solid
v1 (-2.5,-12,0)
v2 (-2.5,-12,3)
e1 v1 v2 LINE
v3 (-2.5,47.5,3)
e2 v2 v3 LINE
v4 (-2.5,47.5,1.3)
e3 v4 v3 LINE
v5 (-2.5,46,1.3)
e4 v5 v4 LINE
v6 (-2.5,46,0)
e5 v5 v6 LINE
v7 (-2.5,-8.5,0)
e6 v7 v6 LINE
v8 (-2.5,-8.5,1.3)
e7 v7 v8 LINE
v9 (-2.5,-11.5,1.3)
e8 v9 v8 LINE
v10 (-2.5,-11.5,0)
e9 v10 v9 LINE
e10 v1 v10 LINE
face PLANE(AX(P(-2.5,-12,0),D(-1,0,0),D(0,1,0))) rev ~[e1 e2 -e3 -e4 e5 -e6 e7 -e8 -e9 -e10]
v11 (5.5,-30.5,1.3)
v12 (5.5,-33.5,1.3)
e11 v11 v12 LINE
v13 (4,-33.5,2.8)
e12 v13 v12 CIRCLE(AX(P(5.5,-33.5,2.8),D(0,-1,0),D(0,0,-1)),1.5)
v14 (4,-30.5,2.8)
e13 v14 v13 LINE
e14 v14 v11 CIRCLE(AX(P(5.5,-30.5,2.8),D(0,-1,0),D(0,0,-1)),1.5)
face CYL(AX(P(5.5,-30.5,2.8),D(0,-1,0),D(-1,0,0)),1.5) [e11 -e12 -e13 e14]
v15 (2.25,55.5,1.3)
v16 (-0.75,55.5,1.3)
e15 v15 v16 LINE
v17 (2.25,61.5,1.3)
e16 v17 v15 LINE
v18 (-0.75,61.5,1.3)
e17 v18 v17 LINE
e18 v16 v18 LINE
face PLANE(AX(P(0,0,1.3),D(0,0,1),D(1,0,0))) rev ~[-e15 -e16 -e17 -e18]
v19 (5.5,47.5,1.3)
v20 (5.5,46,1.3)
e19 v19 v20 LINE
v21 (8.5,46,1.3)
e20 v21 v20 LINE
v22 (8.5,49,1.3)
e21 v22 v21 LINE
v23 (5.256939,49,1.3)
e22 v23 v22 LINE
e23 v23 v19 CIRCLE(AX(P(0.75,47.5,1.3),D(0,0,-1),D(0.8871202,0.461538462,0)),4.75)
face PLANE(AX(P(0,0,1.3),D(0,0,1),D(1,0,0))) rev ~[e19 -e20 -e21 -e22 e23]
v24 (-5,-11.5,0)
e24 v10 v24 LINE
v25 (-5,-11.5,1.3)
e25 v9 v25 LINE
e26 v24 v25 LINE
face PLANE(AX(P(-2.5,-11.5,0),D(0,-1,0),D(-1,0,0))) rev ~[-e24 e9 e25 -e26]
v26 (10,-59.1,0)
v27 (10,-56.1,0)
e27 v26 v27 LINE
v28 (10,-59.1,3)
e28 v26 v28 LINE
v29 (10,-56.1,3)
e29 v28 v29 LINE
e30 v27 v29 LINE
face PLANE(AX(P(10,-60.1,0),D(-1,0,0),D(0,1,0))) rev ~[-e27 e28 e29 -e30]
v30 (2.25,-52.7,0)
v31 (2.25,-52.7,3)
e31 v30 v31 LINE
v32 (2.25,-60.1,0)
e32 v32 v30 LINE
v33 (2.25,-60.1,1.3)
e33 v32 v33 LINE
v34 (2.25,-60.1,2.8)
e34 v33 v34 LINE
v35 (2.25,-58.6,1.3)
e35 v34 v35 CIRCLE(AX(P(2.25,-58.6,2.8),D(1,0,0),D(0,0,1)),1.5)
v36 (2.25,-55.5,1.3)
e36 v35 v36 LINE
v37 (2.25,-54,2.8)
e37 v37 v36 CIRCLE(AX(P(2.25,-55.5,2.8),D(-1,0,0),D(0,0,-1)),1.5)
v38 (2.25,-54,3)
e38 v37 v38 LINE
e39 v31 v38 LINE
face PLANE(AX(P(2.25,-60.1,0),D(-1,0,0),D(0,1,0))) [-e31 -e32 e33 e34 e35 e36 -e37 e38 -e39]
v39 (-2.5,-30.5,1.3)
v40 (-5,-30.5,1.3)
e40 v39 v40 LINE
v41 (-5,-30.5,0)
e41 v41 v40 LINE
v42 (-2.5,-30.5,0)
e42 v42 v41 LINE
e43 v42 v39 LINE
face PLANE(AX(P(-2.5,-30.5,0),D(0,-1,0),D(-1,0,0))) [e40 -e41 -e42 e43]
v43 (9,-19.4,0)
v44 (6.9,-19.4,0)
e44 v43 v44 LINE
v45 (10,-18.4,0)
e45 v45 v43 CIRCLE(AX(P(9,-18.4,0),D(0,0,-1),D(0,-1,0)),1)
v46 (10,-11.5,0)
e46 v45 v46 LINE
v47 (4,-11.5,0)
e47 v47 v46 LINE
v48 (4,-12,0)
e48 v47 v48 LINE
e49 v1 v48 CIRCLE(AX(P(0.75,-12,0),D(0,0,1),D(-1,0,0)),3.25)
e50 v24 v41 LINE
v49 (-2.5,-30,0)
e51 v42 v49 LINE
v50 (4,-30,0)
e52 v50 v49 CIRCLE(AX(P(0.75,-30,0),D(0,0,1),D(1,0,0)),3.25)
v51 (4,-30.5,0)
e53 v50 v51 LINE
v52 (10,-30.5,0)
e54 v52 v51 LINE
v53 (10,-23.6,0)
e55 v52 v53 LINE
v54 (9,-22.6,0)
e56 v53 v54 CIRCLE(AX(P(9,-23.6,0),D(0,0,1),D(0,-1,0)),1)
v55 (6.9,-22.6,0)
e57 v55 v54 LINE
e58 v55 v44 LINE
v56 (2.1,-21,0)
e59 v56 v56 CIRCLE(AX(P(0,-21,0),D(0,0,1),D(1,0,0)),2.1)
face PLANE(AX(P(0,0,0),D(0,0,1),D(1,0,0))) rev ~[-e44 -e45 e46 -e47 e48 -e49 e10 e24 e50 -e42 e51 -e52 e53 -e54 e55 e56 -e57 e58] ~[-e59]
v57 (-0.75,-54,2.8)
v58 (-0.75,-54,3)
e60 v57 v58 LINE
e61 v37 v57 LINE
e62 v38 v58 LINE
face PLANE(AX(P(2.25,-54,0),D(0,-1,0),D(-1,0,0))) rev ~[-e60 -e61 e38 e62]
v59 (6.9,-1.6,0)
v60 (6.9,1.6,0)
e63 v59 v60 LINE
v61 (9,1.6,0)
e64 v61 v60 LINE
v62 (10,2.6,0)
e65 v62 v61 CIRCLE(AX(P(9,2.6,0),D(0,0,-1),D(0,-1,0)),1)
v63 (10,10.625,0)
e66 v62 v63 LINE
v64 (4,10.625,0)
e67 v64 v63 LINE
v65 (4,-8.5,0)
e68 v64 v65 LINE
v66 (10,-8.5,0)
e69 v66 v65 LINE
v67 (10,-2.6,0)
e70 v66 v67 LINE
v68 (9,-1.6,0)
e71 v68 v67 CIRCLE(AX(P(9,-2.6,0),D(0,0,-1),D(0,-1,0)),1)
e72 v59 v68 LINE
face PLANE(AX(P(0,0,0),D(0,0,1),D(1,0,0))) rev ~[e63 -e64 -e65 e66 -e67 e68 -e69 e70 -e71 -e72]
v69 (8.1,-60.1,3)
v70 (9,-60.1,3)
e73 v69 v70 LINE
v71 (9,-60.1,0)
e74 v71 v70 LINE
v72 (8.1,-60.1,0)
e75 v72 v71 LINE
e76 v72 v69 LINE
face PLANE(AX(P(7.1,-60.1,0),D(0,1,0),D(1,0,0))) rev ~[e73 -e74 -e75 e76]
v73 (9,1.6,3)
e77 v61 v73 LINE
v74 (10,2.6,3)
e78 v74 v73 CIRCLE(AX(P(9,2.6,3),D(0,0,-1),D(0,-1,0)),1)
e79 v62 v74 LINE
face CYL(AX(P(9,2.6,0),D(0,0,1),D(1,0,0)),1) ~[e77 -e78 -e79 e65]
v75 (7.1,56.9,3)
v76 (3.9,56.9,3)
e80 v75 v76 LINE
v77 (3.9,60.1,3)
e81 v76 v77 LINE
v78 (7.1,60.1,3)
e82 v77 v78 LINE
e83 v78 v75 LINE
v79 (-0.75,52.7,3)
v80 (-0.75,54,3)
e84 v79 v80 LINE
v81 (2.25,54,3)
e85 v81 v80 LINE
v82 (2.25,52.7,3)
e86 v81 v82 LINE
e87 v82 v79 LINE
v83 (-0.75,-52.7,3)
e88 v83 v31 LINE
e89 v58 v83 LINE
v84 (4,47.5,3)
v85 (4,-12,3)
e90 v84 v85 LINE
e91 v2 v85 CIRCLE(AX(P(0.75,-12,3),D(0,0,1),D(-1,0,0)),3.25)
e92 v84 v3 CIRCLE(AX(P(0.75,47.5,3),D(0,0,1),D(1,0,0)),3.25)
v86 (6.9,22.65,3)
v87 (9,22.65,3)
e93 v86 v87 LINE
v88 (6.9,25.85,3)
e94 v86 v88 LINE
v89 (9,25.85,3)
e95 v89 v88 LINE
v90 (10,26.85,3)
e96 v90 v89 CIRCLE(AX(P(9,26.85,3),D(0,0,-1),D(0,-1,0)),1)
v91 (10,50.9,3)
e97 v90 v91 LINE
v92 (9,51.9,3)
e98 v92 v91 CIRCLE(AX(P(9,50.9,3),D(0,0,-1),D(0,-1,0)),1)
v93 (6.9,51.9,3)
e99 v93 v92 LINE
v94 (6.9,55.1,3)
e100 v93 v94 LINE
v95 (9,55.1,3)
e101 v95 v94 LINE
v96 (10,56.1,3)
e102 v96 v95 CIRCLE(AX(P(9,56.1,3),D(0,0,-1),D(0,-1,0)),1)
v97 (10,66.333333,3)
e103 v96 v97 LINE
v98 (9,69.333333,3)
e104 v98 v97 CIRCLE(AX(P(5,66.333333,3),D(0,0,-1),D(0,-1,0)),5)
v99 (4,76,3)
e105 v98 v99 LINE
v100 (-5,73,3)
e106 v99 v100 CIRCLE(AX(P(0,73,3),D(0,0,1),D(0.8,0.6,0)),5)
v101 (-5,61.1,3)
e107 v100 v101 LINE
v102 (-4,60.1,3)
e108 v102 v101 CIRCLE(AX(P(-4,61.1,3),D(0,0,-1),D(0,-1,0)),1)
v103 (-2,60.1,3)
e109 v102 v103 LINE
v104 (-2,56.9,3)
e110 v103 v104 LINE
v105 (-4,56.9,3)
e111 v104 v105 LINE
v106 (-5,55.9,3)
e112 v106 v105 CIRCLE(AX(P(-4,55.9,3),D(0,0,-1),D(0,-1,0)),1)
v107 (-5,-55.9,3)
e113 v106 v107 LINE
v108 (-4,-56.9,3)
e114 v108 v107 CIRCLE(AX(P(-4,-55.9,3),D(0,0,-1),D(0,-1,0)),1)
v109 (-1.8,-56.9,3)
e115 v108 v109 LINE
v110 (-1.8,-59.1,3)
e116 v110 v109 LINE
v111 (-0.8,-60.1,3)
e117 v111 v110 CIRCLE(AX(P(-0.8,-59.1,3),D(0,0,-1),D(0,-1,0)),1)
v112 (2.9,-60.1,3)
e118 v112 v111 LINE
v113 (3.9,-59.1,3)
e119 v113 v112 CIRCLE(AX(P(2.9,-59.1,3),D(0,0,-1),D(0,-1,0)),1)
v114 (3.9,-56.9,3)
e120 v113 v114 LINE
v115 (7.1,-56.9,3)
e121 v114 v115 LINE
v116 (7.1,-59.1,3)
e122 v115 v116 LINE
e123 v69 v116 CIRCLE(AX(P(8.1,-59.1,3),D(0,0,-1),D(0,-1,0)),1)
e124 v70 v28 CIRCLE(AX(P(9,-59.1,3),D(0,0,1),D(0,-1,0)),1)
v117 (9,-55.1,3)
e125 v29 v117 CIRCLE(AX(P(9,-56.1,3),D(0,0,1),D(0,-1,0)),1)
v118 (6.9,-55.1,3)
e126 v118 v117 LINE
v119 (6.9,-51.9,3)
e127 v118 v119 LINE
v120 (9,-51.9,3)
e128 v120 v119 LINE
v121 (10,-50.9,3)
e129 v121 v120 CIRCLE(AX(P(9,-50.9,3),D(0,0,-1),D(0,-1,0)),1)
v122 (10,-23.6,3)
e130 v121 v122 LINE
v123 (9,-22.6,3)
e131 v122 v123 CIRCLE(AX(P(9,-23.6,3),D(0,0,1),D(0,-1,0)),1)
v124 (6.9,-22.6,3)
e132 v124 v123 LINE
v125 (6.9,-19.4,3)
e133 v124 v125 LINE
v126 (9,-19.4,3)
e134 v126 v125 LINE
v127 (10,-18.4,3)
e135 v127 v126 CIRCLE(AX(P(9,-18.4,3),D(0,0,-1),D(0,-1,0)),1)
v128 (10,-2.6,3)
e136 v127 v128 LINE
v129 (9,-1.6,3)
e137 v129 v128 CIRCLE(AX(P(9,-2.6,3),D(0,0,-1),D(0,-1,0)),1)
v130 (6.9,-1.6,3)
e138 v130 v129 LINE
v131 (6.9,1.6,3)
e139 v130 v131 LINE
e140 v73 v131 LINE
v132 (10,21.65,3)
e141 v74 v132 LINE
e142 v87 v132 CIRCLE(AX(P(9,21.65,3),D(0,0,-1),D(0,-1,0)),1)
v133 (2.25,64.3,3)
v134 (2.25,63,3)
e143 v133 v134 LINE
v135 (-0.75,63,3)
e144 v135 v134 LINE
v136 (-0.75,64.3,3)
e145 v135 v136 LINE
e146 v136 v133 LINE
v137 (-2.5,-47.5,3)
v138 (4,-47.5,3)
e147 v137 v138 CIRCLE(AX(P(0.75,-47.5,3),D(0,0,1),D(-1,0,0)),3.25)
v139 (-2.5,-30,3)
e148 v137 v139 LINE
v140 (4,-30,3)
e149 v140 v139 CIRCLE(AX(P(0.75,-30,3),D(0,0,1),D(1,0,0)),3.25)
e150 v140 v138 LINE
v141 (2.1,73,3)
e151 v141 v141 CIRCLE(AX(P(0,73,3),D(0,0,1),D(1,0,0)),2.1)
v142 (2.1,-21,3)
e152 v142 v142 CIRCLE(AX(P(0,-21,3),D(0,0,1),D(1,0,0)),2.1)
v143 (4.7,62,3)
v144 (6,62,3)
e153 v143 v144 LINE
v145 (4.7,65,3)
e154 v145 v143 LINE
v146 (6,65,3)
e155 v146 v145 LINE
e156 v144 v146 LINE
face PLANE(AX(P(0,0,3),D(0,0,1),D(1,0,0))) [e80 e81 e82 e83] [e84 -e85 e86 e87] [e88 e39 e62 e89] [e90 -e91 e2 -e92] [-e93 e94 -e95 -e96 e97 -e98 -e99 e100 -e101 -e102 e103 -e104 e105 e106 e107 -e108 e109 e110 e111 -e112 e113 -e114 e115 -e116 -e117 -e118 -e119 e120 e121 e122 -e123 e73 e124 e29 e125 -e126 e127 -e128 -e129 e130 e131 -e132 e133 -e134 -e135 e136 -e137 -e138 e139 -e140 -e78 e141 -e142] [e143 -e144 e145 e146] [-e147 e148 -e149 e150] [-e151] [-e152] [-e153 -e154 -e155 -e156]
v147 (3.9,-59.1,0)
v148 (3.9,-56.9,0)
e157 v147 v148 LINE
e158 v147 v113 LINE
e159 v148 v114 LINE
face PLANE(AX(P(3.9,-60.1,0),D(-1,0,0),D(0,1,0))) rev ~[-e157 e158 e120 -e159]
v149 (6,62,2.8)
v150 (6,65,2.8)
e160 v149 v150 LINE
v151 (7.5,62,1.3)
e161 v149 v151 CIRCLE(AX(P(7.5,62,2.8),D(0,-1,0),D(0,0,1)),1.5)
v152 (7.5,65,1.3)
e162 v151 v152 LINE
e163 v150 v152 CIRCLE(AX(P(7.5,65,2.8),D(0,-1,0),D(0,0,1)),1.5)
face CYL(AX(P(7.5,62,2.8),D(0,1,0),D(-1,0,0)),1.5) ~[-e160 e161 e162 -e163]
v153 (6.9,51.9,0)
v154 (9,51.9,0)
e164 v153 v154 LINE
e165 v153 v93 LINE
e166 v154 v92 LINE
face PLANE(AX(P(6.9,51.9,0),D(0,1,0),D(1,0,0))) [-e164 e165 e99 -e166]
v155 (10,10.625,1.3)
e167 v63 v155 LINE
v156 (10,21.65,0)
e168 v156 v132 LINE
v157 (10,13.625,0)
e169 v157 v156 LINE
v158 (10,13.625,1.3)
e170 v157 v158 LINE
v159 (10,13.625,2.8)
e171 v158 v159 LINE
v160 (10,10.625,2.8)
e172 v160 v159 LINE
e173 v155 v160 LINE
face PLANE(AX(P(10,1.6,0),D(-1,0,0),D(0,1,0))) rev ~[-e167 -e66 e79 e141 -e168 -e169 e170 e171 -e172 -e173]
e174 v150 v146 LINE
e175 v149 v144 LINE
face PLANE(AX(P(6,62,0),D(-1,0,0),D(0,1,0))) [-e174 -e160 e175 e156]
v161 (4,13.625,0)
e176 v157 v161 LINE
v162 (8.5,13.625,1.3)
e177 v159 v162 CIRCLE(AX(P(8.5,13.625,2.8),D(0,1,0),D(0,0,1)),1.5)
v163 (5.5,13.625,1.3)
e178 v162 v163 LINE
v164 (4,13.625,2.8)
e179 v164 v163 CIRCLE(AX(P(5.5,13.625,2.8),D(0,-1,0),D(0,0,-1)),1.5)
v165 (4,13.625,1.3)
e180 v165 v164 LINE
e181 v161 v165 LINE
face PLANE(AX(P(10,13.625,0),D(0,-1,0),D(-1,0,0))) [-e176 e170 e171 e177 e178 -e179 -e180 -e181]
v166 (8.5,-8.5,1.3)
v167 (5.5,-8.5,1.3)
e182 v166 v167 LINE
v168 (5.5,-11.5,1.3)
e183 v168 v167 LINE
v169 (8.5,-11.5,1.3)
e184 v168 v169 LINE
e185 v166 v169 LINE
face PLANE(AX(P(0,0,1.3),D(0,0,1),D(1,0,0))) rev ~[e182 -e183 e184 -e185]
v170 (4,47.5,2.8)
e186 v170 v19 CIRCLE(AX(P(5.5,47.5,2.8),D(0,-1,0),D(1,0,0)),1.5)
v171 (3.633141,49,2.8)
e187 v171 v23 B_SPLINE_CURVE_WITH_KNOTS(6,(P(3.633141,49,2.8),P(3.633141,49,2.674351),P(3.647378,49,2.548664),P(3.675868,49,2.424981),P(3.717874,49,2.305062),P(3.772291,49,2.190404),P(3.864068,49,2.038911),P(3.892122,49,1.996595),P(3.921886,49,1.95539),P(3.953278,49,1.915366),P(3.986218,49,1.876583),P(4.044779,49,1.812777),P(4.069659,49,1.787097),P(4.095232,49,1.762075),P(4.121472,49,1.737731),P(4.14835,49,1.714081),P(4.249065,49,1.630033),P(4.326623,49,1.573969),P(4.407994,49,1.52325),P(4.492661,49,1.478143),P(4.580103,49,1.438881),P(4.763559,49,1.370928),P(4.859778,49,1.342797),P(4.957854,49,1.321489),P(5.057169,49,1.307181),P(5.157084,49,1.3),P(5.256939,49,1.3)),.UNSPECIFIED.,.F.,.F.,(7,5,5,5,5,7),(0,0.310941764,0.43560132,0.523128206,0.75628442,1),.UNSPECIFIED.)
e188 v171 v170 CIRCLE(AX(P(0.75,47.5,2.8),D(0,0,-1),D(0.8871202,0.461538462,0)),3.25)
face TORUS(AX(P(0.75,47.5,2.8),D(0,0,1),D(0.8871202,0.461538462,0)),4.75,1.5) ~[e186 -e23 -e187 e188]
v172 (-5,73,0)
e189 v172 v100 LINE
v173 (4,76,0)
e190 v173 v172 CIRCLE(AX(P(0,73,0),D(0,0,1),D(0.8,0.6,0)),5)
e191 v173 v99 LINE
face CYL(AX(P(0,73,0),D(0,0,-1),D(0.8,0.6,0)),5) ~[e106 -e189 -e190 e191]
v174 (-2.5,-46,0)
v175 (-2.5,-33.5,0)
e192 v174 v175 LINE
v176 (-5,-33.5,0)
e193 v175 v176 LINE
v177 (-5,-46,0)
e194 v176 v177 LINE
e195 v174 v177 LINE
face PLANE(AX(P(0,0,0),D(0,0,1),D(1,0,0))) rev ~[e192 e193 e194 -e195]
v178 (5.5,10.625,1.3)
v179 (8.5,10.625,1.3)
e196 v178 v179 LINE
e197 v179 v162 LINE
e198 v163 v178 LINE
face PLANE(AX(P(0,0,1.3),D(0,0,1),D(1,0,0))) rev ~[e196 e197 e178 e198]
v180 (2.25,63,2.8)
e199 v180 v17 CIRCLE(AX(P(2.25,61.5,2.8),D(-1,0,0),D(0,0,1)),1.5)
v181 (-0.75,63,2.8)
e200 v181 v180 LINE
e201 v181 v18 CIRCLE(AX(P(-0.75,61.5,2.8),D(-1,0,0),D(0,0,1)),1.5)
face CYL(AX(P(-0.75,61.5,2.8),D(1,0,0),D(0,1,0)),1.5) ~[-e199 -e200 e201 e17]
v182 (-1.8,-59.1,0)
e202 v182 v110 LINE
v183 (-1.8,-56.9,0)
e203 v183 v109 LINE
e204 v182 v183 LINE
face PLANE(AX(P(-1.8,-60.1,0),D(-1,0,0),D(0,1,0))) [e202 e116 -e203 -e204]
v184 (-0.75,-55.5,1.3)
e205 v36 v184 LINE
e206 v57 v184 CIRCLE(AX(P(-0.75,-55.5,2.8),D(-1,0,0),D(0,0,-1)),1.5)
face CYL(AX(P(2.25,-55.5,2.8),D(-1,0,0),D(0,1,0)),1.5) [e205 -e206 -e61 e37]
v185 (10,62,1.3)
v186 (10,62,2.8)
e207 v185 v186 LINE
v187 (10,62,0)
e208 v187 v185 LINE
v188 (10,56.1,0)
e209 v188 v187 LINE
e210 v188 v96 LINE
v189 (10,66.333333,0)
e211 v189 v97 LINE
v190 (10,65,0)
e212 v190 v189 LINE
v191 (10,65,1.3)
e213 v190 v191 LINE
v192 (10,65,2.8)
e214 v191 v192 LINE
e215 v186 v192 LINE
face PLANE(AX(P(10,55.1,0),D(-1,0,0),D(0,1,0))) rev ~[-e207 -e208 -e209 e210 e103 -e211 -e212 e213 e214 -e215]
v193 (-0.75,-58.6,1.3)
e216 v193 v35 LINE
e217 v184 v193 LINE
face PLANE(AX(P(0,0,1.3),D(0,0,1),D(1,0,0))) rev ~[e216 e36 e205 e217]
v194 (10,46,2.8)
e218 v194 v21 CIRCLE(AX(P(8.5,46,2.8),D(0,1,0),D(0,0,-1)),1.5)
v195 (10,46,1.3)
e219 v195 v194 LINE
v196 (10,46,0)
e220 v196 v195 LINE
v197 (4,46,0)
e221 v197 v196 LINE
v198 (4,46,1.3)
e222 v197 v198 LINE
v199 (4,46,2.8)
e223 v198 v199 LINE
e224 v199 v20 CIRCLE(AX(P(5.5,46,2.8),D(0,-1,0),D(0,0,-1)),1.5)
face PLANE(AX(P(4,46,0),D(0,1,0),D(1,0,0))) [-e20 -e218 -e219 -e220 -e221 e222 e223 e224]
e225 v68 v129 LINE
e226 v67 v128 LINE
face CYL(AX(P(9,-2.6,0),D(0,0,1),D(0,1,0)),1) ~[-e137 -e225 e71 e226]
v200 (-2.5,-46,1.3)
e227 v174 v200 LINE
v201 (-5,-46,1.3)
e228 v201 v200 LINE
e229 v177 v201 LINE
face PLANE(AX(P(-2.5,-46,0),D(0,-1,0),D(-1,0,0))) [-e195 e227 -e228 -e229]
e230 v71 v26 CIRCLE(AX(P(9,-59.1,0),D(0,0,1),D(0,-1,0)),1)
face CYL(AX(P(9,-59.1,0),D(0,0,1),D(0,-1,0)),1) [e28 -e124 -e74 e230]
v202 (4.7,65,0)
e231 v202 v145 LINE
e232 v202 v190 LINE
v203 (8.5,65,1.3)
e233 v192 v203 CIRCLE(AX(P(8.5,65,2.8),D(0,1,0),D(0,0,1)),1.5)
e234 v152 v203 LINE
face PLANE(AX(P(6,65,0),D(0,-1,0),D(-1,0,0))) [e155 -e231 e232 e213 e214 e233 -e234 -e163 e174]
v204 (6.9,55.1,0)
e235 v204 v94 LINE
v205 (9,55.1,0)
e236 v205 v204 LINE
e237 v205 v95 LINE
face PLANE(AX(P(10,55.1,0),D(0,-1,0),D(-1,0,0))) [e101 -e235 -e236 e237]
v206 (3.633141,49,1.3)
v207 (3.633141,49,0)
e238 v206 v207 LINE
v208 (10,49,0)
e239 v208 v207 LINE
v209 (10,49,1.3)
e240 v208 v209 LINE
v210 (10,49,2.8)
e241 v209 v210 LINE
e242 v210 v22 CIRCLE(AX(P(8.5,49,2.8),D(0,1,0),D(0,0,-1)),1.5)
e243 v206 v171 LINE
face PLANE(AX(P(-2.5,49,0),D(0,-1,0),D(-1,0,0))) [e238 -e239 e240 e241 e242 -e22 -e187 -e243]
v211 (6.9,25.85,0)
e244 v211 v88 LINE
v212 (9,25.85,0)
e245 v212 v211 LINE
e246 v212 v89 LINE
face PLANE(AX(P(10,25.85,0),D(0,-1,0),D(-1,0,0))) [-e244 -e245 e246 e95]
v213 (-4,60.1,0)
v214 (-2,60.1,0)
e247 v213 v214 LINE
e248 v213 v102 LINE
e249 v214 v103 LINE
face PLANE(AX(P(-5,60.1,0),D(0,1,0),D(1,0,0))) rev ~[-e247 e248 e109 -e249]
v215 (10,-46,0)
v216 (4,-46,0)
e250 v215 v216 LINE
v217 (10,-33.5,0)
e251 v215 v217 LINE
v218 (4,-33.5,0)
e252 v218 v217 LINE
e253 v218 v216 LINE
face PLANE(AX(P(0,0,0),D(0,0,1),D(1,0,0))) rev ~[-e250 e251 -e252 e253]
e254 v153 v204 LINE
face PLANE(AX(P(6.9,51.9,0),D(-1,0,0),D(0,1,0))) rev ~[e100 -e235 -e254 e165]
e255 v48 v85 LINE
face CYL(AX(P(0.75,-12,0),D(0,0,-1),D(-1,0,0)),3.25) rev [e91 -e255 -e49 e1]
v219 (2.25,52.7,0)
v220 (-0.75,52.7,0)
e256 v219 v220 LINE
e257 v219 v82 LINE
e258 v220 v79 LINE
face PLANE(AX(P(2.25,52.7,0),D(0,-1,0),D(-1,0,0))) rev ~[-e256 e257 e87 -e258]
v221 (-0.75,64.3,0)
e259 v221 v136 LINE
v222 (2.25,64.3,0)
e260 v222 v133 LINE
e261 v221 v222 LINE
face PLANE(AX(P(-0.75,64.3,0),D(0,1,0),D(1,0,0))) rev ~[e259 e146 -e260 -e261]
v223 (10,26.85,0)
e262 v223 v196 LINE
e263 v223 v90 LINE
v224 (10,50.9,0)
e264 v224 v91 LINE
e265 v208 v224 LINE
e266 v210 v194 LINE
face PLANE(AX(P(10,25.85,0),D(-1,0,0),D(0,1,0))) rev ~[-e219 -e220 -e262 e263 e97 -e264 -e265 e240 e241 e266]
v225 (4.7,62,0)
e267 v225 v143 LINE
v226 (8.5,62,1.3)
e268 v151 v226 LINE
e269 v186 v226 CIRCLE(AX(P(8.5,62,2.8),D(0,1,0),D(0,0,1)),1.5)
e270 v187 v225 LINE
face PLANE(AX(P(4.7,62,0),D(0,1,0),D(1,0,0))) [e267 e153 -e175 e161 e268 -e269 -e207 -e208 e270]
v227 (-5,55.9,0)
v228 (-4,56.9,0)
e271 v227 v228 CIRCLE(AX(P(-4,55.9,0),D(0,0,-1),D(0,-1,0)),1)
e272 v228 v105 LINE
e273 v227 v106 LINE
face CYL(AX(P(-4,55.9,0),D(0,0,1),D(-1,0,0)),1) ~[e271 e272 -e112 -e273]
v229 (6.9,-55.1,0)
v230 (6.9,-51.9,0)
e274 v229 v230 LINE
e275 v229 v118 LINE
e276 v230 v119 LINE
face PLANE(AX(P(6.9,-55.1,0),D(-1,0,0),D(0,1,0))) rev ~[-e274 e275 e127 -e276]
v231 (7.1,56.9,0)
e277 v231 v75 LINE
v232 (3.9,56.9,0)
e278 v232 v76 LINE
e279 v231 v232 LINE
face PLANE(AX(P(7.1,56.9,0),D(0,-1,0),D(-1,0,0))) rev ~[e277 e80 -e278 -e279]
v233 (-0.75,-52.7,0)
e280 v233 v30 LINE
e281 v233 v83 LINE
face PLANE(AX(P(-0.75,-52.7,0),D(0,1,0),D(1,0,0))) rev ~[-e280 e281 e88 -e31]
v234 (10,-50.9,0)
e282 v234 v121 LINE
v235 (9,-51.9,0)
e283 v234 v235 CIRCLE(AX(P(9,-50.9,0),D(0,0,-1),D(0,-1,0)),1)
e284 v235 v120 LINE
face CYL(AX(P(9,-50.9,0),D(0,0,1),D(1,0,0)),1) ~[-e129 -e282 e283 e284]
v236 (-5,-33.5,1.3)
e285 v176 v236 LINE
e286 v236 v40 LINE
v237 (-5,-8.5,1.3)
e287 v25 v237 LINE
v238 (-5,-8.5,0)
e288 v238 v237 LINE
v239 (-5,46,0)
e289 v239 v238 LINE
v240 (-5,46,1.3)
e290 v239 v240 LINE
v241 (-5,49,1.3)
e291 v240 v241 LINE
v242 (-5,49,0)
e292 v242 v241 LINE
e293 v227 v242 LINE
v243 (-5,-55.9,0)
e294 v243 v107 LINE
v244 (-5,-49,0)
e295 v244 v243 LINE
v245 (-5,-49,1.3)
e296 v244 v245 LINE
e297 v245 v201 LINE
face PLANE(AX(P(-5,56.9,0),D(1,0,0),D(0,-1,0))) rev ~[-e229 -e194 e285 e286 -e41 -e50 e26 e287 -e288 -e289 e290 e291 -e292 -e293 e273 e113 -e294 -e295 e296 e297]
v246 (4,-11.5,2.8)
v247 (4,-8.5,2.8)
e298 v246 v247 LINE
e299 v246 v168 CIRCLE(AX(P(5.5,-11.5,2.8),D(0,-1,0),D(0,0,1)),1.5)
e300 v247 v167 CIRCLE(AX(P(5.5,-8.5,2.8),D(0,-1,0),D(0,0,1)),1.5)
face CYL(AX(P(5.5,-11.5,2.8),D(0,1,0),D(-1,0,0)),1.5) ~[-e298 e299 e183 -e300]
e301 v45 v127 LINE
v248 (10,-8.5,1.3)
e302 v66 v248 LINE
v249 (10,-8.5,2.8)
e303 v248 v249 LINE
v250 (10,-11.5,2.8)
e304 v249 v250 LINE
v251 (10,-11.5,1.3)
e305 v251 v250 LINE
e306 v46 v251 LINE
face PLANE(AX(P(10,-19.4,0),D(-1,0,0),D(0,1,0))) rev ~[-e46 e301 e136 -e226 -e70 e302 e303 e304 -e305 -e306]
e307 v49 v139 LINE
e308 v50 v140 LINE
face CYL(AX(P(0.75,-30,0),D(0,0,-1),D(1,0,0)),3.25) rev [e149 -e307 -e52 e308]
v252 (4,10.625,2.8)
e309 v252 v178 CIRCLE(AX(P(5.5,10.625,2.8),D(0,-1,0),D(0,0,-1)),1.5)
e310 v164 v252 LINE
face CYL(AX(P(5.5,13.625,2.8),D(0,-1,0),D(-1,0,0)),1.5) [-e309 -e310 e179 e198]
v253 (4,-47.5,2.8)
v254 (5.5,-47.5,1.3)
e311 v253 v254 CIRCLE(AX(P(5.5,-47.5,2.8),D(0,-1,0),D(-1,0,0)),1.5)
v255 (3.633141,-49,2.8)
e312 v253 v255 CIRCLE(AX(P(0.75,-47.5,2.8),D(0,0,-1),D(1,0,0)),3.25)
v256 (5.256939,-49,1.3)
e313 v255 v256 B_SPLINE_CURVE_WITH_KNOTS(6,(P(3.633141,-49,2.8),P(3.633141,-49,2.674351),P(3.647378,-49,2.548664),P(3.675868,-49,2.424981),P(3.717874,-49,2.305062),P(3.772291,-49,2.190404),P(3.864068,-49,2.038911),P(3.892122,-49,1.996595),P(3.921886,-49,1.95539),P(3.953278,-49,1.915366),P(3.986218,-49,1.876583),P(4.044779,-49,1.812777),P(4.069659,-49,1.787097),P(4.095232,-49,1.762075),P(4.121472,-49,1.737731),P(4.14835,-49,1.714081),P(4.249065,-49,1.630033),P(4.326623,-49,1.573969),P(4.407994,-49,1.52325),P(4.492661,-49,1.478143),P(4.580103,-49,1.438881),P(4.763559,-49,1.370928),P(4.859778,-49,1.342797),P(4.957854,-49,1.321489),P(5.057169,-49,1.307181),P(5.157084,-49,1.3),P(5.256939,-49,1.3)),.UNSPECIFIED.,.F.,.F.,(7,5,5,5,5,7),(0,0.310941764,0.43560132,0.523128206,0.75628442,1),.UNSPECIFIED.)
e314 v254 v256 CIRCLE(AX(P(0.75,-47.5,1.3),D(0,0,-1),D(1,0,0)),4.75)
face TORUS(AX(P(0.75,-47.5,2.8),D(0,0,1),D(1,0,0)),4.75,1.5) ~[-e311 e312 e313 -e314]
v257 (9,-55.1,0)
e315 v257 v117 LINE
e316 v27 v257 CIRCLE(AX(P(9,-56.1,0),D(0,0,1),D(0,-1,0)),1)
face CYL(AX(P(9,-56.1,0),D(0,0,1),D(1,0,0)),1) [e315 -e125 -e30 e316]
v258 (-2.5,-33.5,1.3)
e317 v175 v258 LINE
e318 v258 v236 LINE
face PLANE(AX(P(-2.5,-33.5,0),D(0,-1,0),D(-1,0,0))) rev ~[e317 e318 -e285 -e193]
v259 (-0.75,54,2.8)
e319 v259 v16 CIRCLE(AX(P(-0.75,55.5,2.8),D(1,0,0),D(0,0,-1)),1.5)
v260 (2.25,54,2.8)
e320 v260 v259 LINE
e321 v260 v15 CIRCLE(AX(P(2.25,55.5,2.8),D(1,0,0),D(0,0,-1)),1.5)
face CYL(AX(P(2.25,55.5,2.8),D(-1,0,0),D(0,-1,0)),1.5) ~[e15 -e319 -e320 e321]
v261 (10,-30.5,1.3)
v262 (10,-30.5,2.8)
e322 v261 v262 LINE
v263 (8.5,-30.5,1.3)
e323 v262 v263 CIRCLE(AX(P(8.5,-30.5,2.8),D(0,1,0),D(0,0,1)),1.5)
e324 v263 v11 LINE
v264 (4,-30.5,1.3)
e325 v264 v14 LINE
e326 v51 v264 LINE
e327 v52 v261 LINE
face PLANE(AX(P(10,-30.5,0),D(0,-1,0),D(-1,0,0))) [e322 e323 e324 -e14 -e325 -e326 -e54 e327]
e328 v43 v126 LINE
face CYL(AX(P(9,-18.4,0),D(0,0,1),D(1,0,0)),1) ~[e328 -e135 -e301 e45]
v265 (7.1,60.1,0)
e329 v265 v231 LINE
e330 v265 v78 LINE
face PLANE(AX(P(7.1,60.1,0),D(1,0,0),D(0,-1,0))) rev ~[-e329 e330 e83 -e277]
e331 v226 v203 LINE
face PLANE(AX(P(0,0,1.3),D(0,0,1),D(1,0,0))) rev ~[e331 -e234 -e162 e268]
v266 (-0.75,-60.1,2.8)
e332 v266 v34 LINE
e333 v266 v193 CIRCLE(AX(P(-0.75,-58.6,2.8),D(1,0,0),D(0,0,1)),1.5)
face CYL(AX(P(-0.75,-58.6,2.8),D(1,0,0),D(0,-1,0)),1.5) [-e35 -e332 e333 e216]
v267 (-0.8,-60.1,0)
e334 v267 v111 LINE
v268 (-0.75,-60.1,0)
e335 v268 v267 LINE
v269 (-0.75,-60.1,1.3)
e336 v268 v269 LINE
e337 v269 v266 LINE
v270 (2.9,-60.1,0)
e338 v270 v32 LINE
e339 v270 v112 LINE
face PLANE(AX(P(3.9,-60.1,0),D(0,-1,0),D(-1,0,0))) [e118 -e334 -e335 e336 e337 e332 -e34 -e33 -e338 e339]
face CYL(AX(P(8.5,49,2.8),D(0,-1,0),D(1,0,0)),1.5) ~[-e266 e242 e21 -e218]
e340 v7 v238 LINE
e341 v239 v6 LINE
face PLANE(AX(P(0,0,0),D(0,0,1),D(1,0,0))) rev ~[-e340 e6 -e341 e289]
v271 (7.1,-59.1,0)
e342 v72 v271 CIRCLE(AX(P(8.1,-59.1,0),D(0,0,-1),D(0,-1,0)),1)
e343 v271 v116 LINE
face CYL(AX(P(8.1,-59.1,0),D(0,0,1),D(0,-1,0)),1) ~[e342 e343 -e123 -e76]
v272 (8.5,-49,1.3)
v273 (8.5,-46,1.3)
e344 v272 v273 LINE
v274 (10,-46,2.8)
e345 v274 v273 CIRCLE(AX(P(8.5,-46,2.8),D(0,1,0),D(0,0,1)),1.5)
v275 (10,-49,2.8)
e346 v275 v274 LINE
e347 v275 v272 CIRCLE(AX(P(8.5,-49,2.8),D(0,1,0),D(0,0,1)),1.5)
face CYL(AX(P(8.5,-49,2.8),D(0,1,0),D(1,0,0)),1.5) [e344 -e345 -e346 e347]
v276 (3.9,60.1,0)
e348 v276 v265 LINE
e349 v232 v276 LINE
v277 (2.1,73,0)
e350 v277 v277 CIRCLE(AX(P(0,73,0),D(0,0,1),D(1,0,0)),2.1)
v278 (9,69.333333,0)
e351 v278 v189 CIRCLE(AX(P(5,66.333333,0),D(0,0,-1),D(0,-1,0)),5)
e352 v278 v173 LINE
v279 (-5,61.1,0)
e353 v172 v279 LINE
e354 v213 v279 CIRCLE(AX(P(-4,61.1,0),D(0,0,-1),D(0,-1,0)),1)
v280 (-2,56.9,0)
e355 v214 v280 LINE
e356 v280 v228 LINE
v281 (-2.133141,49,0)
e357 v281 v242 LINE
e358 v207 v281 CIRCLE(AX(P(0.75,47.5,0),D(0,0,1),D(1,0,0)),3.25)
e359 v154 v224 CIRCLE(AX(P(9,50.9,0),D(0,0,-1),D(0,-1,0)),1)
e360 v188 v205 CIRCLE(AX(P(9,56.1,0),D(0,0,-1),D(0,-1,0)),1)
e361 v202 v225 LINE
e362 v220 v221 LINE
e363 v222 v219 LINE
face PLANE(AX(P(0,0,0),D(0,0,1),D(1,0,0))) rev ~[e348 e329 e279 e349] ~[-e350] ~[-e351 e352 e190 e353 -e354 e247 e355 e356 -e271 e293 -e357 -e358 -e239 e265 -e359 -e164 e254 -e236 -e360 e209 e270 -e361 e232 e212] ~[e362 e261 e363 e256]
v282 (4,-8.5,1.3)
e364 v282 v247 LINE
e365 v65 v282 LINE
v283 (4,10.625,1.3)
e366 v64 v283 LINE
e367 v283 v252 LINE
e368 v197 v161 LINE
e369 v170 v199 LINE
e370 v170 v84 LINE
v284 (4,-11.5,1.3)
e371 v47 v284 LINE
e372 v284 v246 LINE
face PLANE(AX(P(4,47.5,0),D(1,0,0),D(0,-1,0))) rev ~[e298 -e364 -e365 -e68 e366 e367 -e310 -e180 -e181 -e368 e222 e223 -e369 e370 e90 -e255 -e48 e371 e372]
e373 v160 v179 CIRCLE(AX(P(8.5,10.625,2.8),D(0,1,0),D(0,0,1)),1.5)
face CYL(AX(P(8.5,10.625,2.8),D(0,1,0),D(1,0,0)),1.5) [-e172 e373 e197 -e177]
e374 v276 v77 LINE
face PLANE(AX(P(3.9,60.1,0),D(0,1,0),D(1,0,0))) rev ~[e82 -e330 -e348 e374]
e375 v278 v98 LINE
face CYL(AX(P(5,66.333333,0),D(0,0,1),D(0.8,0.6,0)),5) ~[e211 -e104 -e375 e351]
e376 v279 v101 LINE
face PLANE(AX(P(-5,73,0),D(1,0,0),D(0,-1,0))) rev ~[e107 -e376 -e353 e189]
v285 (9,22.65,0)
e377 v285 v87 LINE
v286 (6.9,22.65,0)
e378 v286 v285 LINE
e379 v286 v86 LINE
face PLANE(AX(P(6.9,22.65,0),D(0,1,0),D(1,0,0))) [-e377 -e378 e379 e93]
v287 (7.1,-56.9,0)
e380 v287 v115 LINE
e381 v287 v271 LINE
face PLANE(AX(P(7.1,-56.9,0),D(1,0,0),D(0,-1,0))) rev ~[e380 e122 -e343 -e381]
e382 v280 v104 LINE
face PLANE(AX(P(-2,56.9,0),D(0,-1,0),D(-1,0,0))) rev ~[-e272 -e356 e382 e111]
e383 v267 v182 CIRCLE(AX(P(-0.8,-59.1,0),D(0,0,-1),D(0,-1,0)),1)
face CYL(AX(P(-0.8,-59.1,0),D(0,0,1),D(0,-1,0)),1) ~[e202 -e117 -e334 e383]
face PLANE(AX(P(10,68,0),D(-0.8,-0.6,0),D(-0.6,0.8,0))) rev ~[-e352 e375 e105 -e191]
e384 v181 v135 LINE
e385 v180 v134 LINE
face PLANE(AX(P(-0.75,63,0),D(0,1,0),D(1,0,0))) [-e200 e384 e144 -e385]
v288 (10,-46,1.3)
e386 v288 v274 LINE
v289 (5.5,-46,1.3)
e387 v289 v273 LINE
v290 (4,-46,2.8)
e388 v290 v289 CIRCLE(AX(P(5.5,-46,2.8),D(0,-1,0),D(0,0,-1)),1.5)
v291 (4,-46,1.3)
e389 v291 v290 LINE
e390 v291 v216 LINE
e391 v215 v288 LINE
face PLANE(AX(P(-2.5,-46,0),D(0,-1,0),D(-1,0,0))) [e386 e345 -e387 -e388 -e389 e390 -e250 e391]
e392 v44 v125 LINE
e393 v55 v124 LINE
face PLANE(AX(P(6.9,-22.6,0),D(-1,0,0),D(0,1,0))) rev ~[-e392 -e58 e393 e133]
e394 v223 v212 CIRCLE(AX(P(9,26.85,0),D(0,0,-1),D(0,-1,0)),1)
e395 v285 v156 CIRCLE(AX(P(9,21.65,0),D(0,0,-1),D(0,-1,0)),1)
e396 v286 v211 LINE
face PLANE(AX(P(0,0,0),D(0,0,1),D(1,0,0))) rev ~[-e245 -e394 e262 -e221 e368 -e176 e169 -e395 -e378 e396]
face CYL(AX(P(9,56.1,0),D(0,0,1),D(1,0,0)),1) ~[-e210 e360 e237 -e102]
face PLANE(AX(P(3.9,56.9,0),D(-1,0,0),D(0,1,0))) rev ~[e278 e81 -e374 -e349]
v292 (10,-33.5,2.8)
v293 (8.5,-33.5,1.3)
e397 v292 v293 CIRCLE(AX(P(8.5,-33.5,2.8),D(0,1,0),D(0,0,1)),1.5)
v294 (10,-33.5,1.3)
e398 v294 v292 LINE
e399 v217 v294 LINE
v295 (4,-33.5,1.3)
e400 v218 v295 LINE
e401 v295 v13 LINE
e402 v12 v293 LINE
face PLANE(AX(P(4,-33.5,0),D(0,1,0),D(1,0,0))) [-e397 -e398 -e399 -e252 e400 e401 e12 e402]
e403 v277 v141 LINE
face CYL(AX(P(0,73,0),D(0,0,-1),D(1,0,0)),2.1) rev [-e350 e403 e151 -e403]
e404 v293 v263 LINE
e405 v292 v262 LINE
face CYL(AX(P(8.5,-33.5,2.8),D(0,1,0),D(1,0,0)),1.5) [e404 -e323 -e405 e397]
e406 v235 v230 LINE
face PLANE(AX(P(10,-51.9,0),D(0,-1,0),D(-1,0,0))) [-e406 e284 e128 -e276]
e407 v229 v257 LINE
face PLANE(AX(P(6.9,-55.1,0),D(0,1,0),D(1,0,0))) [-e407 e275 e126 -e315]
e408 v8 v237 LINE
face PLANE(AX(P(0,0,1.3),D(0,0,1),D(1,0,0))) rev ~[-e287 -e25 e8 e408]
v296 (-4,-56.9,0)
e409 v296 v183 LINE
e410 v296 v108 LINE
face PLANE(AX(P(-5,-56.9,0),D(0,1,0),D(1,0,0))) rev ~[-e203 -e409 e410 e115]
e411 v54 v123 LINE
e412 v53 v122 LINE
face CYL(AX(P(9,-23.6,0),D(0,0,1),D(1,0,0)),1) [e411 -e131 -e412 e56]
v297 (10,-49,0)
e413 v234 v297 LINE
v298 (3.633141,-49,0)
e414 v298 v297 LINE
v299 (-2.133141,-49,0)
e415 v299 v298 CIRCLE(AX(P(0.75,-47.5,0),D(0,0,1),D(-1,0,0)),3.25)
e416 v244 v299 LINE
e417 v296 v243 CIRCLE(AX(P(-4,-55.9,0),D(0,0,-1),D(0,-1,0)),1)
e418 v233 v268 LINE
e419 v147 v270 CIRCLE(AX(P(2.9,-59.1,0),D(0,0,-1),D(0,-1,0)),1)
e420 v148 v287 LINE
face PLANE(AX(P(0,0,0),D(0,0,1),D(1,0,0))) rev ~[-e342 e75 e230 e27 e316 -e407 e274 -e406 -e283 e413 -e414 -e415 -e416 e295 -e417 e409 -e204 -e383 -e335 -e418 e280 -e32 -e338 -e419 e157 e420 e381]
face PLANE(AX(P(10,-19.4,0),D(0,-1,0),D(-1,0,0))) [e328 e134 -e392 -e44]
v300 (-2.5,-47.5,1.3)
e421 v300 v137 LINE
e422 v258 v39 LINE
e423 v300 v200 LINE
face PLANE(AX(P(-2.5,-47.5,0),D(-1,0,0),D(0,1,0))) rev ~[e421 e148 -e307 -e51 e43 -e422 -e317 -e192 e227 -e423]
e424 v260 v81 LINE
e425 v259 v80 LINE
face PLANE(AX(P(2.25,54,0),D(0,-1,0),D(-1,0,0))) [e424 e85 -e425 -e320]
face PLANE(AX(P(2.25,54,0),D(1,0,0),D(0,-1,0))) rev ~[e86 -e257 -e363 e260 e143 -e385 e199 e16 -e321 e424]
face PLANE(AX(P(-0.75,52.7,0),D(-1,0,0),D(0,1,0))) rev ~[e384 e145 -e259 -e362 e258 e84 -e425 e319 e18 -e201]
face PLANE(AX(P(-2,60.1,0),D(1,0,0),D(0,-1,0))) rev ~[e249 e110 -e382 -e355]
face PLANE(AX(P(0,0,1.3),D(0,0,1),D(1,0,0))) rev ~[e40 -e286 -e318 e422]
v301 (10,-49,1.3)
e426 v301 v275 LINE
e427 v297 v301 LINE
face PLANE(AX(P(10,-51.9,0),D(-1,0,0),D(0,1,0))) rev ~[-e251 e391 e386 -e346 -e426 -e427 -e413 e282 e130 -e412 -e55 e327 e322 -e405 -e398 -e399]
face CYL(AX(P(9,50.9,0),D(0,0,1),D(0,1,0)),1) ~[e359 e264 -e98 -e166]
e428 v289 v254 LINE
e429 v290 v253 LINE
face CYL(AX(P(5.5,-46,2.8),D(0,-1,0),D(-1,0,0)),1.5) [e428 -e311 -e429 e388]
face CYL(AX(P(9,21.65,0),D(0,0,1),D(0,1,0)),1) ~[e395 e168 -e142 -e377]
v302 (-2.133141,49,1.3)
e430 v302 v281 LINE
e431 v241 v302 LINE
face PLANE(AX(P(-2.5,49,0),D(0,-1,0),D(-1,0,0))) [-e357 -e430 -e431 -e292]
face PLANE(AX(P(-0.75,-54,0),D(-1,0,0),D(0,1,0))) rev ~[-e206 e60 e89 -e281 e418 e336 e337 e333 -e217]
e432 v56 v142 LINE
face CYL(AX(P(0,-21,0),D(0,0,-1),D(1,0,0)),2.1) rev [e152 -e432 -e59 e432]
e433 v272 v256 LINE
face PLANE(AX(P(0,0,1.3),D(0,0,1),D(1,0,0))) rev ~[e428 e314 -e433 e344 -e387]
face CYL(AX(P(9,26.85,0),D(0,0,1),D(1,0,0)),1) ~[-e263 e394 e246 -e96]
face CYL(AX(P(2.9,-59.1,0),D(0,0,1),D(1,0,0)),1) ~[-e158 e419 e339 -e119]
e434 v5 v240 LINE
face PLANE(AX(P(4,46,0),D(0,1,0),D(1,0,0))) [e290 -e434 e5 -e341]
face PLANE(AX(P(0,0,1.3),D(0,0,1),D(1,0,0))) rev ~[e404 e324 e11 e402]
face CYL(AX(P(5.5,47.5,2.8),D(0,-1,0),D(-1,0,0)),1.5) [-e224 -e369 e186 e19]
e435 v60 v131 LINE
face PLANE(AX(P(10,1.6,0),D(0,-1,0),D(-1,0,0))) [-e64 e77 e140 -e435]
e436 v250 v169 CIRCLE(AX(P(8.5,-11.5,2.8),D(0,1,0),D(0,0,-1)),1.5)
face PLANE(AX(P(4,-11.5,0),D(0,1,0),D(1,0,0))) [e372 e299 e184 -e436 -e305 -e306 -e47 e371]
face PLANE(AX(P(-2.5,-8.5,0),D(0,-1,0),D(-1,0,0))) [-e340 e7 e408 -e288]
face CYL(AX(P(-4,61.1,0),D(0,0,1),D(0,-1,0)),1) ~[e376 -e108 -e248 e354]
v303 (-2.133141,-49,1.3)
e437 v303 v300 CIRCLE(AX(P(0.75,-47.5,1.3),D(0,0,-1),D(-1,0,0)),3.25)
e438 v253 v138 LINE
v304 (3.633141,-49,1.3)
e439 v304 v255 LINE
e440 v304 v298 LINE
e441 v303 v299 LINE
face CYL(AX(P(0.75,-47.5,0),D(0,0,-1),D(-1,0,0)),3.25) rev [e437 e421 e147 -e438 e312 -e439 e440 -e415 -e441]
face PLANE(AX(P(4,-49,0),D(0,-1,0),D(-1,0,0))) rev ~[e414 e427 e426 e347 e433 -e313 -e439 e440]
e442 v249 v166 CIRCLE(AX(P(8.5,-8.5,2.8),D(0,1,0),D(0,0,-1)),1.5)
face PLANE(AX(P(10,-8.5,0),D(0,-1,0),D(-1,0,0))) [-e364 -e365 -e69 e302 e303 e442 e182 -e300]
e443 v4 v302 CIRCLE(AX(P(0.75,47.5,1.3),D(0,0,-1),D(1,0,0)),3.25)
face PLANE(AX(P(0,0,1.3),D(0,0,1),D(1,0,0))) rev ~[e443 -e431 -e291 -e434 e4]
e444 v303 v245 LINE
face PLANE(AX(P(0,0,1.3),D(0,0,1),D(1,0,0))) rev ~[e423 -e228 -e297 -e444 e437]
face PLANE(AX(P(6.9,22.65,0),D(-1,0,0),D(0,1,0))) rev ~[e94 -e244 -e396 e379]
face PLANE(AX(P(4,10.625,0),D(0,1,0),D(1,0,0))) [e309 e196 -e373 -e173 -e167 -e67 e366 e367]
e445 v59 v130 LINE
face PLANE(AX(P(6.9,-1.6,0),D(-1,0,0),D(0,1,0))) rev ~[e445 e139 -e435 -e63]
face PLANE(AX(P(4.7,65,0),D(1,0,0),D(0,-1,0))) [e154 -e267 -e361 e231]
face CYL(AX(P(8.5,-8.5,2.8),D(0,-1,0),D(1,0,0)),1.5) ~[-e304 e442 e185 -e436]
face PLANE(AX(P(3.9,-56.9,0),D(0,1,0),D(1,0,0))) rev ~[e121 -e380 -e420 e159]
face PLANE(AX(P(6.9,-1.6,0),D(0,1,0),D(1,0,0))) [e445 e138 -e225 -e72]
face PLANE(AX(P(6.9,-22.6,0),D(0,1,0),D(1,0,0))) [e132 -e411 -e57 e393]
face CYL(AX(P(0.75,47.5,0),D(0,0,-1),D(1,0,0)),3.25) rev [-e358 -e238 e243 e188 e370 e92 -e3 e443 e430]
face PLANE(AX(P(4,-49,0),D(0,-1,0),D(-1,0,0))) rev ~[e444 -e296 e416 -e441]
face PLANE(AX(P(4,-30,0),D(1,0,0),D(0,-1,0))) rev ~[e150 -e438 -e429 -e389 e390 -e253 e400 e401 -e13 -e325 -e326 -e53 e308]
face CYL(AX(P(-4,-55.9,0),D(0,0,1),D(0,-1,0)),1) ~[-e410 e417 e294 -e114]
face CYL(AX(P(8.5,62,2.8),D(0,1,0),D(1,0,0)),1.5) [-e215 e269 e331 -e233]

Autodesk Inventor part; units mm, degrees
ref_plane "YZ Plane" through (0, 0, 0) normal (1, 0, 0) x (0, 1, 0)
ref_plane "XZ Plane" through (0, 0, 0) normal (0, 1, 0) x (-1, 0, 0)
ref_plane "XY Plane" through (0, 0, 0) normal (0, 0, 1) x (1, 0, 0)
sketch "Sketch1" plane through (0, 0, 0) normal (0, 0, 1) x (1, 0, 0)
  circle A0 centre (0, -21) radius 2.1
  circle A1 centre (0, 73) radius 2.1
  line L0 (10, -60.1) -> (10, -55.1)
  line L1 (-5, 73) -> (-5, 60.1)
  line L2 (7, -87.3043) -> (7, -60.1) construction
  line L3 (-5, -56.9) -> (-1.8, -56.9)
  line L4 (10, 68) -> (4, 76)
  arc A2 (4, 76) -> (-5, 73) centre (0, 73) ccw
  line L5 (0.75, 47.5) -> (0.75, -12) construction
  line L6 (4, 47.5) -> (4, -12)
  line L7 (-2.5, -12) -> (-2.5, 47.5)
  arc A3 (4, 47.5) -> (-2.5, 47.5) centre (0.75, 47.5) ccw
  arc A4 (-2.5, -12) -> (4, -12) centre (0.75, -12) ccw
  line L8 (0.75, -30) -> (0.75, -47.5) construction
  line L9 (4, -30) -> (4, -47.5)
  line L10 (-2.5, -47.5) -> (-2.5, -30)
  arc A5 (4, -30) -> (-2.5, -30) centre (0.75, -30) ccw
  arc A6 (-2.5, -47.5) -> (4, -47.5) centre (0.75, -47.5) ccw
  line L11 (-5, 60.1) -> (-2, 60.1)
  line L12 (-2, 60.1) -> (-2, 56.9)
  line L13 (-2, 56.9) -> (-5, 56.9)
  line L14 (7.1, 56.9) -> (3.9, 56.9)
  line L15 (3.9, 56.9) -> (3.9, 60.1)
  line L16 (3.9, 60.1) -> (7.1, 60.1)
  line L17 (2.25, 52.7) -> (-0.75, 52.7)
  line L18 (-0.75, 52.7) -> (-0.75, 54)
  line L19 (2.25, 54) -> (2.25, 52.7)
  line L20 (-0.75, 63) -> (-0.75, 64.3)
  line L21 (-0.75, 64.3) -> (2.25, 64.3)
  line L22 (2.25, 64.3) -> (2.25, 63)
  line L23 (2.25, -54) -> (-0.75, -54)
  line L24 (-0.75, -54) -> (-0.75, -52.7)
  line L25 (-0.75, -52.7) -> (2.25, -52.7)
  line L26 (2.25, -52.7) -> (2.25, -54)
  line L27 (2.25, 54) -> (-0.75, 54)
  line L28 (-0.75, 54) -> (-0.75, 63) construction
  line L29 (-0.75, 63) -> (2.25, 63)
  line L30 (2.25, 63) -> (2.25, 54) construction
  line L31 (2.25, -54) -> (-0.75, -54)
  line L32 (-0.75, -54) -> (-0.75, -60.1) construction
  line L33 (2.25, -60.1) -> (2.25, -54) construction
  circle A7 centre (0, -21) radius 4 construction
  line L34 (10, 55.1) -> (6.9, 55.1)
  line L35 (6.9, 51.9) -> (10, 51.9)
  line L36 (10, 49) -> (4, 49) construction
  line L37 (4, 49) -> (4, 46) construction
  line L38 (4, 46) -> (10, 46) construction
  line L39 (10, 46) -> (10, 49) construction
  line L40 (-5, 0) -> (-73, 0) construction
  line L41 (-5, -60.1) -> (-1.8, -60.1) construction
  line L42 (-1.8, -60.1) -> (-1.8, -56.9)
  line L43 (-5, -56.9) -> (-5, -60.1) construction
  line L44 (3.9, -60.1) -> (3.9, -56.9)
  line L45 (3.9, -56.9) -> (7.1, -56.9)
  line L46 (-1.8, -58.5) -> (3.9, -58.5) construction
  line L47 (3.9, -60.1) -> (-1.8, -60.1)
  line L48 (3.9, -60.1) -> (-1.8, -60.1)
  line L49 (-1.8, -56.9) -> (3.9, -56.9) construction
  line L50 (-5, 56.9) -> (-5, -56.9)
  line L51 (-2, 58.5) -> (3.9, 58.5) construction
  line L52 (-2, 60.1) -> (3.9, 60.1) construction
  line L53 (-2, 56.9) -> (3.9, 56.9) construction
  line L54 (7.1, 60.1) -> (7.1, 56.9)
  line L55 (5.5, 60.1) -> (5.5, 56.9) construction
  line L56 (7.1, -56.9) -> (7.1, -60.1)
  line L57 (7.1, -60.1) -> (10, -60.1)
  line L58 (3.9, -60.1) -> (7.1, -60.1) construction
  line L59 (5.5, -60.1) -> (5.5, -56.9) construction
  line L60 (10, 51.9) -> (10, 55.1) construction
  line L61 (10, 55.1) -> (10, 68)
  line L62 (6, 65) -> (4.7, 65)
  line L63 (4.7, 65) -> (4.7, 62)
  line L64 (4.7, 62) -> (6, 62)
  line L65 (6, 62) -> (6, 65)
  line L66 (4.7, 63.5) -> (6, 63.5) construction
  line L67 (6, 62) -> (10, 62) construction
  line L68 (6, 65) -> (10, 65) construction
  line L69 (4, 46) -> (4, 49) construction
  line L70 (4, 47.5) -> (10, 47.5) construction
  line L71 (6.9, 51.9) -> (6.9, 55.1)
  line L72 (6.9, 53.5) -> (10, 53.5) construction
  line L73 (10, 25.85) -> (6.9, 25.85)
  line L74 (6.9, 22.65) -> (10, 22.65)
  line L75 (10, 22.65) -> (10, 25.85) construction
  line L76 (6.9, 22.65) -> (6.9, 25.85)
  line L77 (6.9, 24.25) -> (10, 24.25) construction
  line L78 (10, 1.6) -> (6.9, 1.6)
  line L79 (6.9, -1.6) -> (10, -1.6)
  line L80 (10, -1.6) -> (10, 0) construction
  line L81 (6.9, -1.6) -> (6.9, 1.6)
  line L82 (6.9, 0) -> (10, 0) construction
  line L83 (10, -19.4) -> (6.9, -19.4)
  line L84 (6.9, -22.6) -> (10, -22.6)
  line L85 (10, -22.6) -> (10, -19.4) construction
  line L86 (6.9, -22.6) -> (6.9, -19.4)
  line L87 (6.9, -21) -> (10, -21) construction
  line L88 (10, -51.9) -> (6.9, -51.9)
  line L89 (6.9, -55.1) -> (10, -55.1)
  line L90 (10, -55.1) -> (10, -51.9) construction
  line L91 (6.9, -55.1) -> (6.9, -51.9)
  line L92 (6.9, -53.5) -> (10, -53.5) construction
  line L93 (10, -46) -> (4, -46) construction
  line L94 (4, -46) -> (4, -49) construction
  line L95 (4, -49) -> (10, -49) construction
  line L96 (10, -49) -> (10, -46) construction
  line L97 (4, -49) -> (4, -46) construction
  line L98 (4, -47.5) -> (10, -47.5) construction
  line L99 (10, -30.5) -> (4, -30.5) construction
  line L100 (4, -30.5) -> (4, -33.5) construction
  line L101 (4, -33.5) -> (10, -33.5) construction
  line L102 (10, -33.5) -> (10, -30.5) construction
  line L103 (4, -33.5) -> (4, -30.5) construction
  line L104 (4, -32) -> (10, -32) construction
  line L105 (4, -11.5) -> (10, -11.5) construction
  line L106 (4, -8.5) -> (4, -11.5) construction
  line L107 (10, -11.5) -> (10, -8.5) construction
  line L108 (10, -8.5) -> (4, -8.5) construction
  line L109 (4, -10) -> (10, -10) construction
  line L110 (4, -11.5) -> (4, -8.5) construction
  line L111 (10, 13.625) -> (4, 13.625) construction
  line L112 (4, 12.125) -> (10, 12.125) construction
  line L113 (10, 10.625) -> (10, 13.625) construction
  line L114 (4, 13.625) -> (4, 10.625) construction
  line L115 (4, 10.625) -> (4, 13.625) construction
  line L116 (4, 10.625) -> (10, 10.625) construction
  line L117 (10, 25.85) -> (10, 51.9)
  line L118 (10, 0) -> (10, 1.6) construction
  line L119 (10, 1.6) -> (10, 22.65)
  line L120 (10, -19.4) -> (10, -1.6)
  line L121 (10, -51.9) -> (10, -22.6)
  line L122 (-89.6, 0) -> (26.6, 0) construction
  line L123 (0, -120.6139) -> (0, 112.553) construction
  line L124 (-2.5, -46) -> (-5, -46) construction
  line L125 (-2.5, -49) -> (-5, -49) construction
  line L126 (-2.5, -33.5) -> (-5, -33.5) construction
  line L127 (-2.5, -30.5) -> (-5, -30.5) construction
  line L128 (-2.5, -11.5) -> (-5, -11.5) construction
  line L129 (-2.5, -8.5) -> (-5, -8.5) construction
  line L130 (-2.5, 49) -> (-5, 49) construction
  line L131 (-2.5, 46) -> (-5, 46) construction
  point P0 (0, 0)
  point P1 (0, 0)
  point P2 (0.75, 17.75)
  point P3 (0.75, -38.75)
  dimension "d0" = 4.2
  dimension "d1" = 4.2
  dimension "d2" = 10
  dimension "d3" = 5
  dimension "d9" = 3.2
  dimension "d11" = 5
  dimension "d12" = 3
  dimension "d13" = 3.2
  dimension "d14" = 8
  dimension "d15" = 3.2
  dimension "d17" = 2.5
  dimension "d19" = 9
  dimension "d20" = 9
  dimension "d25" = 1.5
  dimension "d28" = 1.3
  dimension "d29" = 21
  dimension "d32" = 58.5
  dimension "d34" = 58.5
  dimension "d35" = 3.2
  dimension "d36" = 1.5
  dimension "d38" = 1.5
  dimension "d39" = 11
  dimension "d40" = 11
  dimension "d43" = 4.5
  dimension "d44" = 3
  dimension "d46" = 3
  dimension "d47" = 1.3
  dimension "d48" = 1
  dimension "d49" = 5
  dimension "d50" = 1.3
  dimension "d51" = 3
  dimension "d52" = 4.5
  dimension "d53" = 4.5
  dimension "d54" = 3
  dimension "d55" = 11
  dimension "d57" = 5
  dimension "d58" = 0.1
  dimension "d59" = 3.2
  dimension "d60" = 3.2
  dimension "d61" = 3.2
  dimension "d62" = 3.2
  dimension "d63" = 3.1
  dimension "d64" = 3.1
  dimension "d65" = 3.1
  dimension "d66" = 3.1
  dimension "d67" = 5
  dimension "d68" = 3
  dimension "d69" = 11
  dimension "d70" = 0
  dimension "d72" = 3
  dimension "d73" = 11
  dimension "d74" = 3
  dimension "d75" = 11
  dimension "d77" = 3
  dimension "d81" = 73
  dimension "d82" = 10
  dimension "d92" = 12.125
  dimension "d93" = 24.25
  dimension "d94" = 6
extrude "Extrusion1" add sketch "Sketch1" along normal blind 3
sketch "Sketch2" plane through (0, 0, 0) normal (0, 0, 1) x (1, 0, 0)
  line L0 (2.25, -60.1) -> (2.25, -54) projected
  line L1 (-0.75, -54) -> (-0.75, -60.1) projected
  line L2 (2.25, -54) -> (-0.75, -54) projected
  line L3 (4, -49) -> (10, -49) projected
  line L4 (10, -46) -> (4, -46) projected
  line L5 (10, -49) -> (10, -46) projected
  line L6 (4, -33.5) -> (10, -33.5) projected
  line L7 (10, -30.5) -> (4, -30.5) projected
  line L8 (4, -11.5) -> (10, -11.5) projected
  line L9 (10, -8.5) -> (4, -8.5) projected
  line L10 (4, 10.625) -> (10, 10.625) projected
  line L11 (10, 13.625) -> (4, 13.625) projected
  line L12 (10, 49) -> (4, 49) projected
  line L13 (4, 46) -> (10, 46) projected
  line L14 (6, 62) -> (10, 62) projected
  line L15 (6, 65) -> (10, 65) projected
  line L16 (6, 62) -> (6, 65) projected
  line L17 (2.25, 63) -> (2.25, 54) projected
  line L18 (-0.75, 54) -> (-0.75, 63) projected
  line L19 (2.25, 54) -> (-0.75, 54) projected
  line L20 (-0.75, 63) -> (2.25, 63) projected
  line L21 (10, 62) -> (10, 65)
  line L22 (10, 49) -> (10, 46)
  line L23 (4, 13.625) -> (4, 10.625)
  line L24 (10, 10.625) -> (10, 13.625)
  line L25 (4, -11.5) -> (4, -8.5)
  line L26 (10, -8.5) -> (10, -11.5)
  line L27 (4, -30.5) -> (4, -33.5)
  line L28 (10, -33.5) -> (10, -30.5)
  line L29 (-0.75, -60.1) -> (2.25, -60.1)
  line L30 (-2.5, -49) -> (-5, -49) projected
  line L31 (-2.5, -46) -> (-5, -46) projected
  line L32 (-2.5, -33.5) -> (-5, -33.5) projected
  line L33 (-2.5, -30.5) -> (-5, -30.5) projected
  line L34 (-2.5, -11.5) -> (-5, -11.5) projected
  line L35 (-2.5, -8.5) -> (-5, -8.5) projected
  line L36 (-2.5, 46) -> (-5, 46) projected
  line L37 (-2.5, 49) -> (-5, 49) projected
  line L38 (-5, -49) -> (-5, -46)
  line L39 (-2.5, -33.5) -> (-2.5, -30.5)
  line L40 (-5, -33.5) -> (-5, -30.5)
  line L41 (-2.5, -11.5) -> (-2.5, -8.5)
  line L42 (-5, -11.5) -> (-5, -8.5)
  line L43 (-5, 46) -> (-5, 49)
  line L44 (4, -49) -> (-2.5, -49)
  line L45 (4, -46) -> (-2.5, -46)
  line L46 (4, 49) -> (-2.5, 49)
  line L47 (4, 46) -> (-2.5, 46)
  line L48 (-2.5, 47.5) -> (-2.5, -12) projected
  point P0 (0, 0)
extrude "Extrusion2" cut sketch "Sketch2" along normal blind 1.3
fillet "Fillet1" radius 1 17 edges at (10, -60.1, 1.5) (3.9, -60.1, 1.5) (7.1, -60.1, 1.5) (10, -55.1, 1.5) (10, -51.9, 1.5) (10, -22.6, 1.5) (10, -19.4, 1.5) (10, -1.6, 1.5) (10, 1.6, 1.5) (10, 22.65, 1.5) (10, 25.85, 1.5) (10, 51.9, 1.5) (10, 55.1, 1.5) (-5, 60.1, 1.5) (-5, 56.9, 1.5) (-1.8, -60.1, 1.5) (-5, -56.9, 1.5)
fillet "Fillet2" radius 5 1 edges at (10, 68, 1.5)
fillet "Fillet3" radius 1.5 16 edges at (0.75, -60.1, 1.3) (0.75, -54, 1.3) (10, -47.5, 1.3) (4, -46.75, 1.3) (10, -32, 1.3) (4, -32, 1.3) (4, -10, 1.3) (10, -10, 1.3) (4, 12.125, 1.3) (10, 12.125, 1.3) (4, 46.75, 1.3) (10, 47.5, 1.3) (6, 63.5, 1.3) (10, 63.5, 1.3) (0.75, 63, 1.3) (0.75, 54, 1.3)
properties part number "turtlebot_installation_bottom_left"
